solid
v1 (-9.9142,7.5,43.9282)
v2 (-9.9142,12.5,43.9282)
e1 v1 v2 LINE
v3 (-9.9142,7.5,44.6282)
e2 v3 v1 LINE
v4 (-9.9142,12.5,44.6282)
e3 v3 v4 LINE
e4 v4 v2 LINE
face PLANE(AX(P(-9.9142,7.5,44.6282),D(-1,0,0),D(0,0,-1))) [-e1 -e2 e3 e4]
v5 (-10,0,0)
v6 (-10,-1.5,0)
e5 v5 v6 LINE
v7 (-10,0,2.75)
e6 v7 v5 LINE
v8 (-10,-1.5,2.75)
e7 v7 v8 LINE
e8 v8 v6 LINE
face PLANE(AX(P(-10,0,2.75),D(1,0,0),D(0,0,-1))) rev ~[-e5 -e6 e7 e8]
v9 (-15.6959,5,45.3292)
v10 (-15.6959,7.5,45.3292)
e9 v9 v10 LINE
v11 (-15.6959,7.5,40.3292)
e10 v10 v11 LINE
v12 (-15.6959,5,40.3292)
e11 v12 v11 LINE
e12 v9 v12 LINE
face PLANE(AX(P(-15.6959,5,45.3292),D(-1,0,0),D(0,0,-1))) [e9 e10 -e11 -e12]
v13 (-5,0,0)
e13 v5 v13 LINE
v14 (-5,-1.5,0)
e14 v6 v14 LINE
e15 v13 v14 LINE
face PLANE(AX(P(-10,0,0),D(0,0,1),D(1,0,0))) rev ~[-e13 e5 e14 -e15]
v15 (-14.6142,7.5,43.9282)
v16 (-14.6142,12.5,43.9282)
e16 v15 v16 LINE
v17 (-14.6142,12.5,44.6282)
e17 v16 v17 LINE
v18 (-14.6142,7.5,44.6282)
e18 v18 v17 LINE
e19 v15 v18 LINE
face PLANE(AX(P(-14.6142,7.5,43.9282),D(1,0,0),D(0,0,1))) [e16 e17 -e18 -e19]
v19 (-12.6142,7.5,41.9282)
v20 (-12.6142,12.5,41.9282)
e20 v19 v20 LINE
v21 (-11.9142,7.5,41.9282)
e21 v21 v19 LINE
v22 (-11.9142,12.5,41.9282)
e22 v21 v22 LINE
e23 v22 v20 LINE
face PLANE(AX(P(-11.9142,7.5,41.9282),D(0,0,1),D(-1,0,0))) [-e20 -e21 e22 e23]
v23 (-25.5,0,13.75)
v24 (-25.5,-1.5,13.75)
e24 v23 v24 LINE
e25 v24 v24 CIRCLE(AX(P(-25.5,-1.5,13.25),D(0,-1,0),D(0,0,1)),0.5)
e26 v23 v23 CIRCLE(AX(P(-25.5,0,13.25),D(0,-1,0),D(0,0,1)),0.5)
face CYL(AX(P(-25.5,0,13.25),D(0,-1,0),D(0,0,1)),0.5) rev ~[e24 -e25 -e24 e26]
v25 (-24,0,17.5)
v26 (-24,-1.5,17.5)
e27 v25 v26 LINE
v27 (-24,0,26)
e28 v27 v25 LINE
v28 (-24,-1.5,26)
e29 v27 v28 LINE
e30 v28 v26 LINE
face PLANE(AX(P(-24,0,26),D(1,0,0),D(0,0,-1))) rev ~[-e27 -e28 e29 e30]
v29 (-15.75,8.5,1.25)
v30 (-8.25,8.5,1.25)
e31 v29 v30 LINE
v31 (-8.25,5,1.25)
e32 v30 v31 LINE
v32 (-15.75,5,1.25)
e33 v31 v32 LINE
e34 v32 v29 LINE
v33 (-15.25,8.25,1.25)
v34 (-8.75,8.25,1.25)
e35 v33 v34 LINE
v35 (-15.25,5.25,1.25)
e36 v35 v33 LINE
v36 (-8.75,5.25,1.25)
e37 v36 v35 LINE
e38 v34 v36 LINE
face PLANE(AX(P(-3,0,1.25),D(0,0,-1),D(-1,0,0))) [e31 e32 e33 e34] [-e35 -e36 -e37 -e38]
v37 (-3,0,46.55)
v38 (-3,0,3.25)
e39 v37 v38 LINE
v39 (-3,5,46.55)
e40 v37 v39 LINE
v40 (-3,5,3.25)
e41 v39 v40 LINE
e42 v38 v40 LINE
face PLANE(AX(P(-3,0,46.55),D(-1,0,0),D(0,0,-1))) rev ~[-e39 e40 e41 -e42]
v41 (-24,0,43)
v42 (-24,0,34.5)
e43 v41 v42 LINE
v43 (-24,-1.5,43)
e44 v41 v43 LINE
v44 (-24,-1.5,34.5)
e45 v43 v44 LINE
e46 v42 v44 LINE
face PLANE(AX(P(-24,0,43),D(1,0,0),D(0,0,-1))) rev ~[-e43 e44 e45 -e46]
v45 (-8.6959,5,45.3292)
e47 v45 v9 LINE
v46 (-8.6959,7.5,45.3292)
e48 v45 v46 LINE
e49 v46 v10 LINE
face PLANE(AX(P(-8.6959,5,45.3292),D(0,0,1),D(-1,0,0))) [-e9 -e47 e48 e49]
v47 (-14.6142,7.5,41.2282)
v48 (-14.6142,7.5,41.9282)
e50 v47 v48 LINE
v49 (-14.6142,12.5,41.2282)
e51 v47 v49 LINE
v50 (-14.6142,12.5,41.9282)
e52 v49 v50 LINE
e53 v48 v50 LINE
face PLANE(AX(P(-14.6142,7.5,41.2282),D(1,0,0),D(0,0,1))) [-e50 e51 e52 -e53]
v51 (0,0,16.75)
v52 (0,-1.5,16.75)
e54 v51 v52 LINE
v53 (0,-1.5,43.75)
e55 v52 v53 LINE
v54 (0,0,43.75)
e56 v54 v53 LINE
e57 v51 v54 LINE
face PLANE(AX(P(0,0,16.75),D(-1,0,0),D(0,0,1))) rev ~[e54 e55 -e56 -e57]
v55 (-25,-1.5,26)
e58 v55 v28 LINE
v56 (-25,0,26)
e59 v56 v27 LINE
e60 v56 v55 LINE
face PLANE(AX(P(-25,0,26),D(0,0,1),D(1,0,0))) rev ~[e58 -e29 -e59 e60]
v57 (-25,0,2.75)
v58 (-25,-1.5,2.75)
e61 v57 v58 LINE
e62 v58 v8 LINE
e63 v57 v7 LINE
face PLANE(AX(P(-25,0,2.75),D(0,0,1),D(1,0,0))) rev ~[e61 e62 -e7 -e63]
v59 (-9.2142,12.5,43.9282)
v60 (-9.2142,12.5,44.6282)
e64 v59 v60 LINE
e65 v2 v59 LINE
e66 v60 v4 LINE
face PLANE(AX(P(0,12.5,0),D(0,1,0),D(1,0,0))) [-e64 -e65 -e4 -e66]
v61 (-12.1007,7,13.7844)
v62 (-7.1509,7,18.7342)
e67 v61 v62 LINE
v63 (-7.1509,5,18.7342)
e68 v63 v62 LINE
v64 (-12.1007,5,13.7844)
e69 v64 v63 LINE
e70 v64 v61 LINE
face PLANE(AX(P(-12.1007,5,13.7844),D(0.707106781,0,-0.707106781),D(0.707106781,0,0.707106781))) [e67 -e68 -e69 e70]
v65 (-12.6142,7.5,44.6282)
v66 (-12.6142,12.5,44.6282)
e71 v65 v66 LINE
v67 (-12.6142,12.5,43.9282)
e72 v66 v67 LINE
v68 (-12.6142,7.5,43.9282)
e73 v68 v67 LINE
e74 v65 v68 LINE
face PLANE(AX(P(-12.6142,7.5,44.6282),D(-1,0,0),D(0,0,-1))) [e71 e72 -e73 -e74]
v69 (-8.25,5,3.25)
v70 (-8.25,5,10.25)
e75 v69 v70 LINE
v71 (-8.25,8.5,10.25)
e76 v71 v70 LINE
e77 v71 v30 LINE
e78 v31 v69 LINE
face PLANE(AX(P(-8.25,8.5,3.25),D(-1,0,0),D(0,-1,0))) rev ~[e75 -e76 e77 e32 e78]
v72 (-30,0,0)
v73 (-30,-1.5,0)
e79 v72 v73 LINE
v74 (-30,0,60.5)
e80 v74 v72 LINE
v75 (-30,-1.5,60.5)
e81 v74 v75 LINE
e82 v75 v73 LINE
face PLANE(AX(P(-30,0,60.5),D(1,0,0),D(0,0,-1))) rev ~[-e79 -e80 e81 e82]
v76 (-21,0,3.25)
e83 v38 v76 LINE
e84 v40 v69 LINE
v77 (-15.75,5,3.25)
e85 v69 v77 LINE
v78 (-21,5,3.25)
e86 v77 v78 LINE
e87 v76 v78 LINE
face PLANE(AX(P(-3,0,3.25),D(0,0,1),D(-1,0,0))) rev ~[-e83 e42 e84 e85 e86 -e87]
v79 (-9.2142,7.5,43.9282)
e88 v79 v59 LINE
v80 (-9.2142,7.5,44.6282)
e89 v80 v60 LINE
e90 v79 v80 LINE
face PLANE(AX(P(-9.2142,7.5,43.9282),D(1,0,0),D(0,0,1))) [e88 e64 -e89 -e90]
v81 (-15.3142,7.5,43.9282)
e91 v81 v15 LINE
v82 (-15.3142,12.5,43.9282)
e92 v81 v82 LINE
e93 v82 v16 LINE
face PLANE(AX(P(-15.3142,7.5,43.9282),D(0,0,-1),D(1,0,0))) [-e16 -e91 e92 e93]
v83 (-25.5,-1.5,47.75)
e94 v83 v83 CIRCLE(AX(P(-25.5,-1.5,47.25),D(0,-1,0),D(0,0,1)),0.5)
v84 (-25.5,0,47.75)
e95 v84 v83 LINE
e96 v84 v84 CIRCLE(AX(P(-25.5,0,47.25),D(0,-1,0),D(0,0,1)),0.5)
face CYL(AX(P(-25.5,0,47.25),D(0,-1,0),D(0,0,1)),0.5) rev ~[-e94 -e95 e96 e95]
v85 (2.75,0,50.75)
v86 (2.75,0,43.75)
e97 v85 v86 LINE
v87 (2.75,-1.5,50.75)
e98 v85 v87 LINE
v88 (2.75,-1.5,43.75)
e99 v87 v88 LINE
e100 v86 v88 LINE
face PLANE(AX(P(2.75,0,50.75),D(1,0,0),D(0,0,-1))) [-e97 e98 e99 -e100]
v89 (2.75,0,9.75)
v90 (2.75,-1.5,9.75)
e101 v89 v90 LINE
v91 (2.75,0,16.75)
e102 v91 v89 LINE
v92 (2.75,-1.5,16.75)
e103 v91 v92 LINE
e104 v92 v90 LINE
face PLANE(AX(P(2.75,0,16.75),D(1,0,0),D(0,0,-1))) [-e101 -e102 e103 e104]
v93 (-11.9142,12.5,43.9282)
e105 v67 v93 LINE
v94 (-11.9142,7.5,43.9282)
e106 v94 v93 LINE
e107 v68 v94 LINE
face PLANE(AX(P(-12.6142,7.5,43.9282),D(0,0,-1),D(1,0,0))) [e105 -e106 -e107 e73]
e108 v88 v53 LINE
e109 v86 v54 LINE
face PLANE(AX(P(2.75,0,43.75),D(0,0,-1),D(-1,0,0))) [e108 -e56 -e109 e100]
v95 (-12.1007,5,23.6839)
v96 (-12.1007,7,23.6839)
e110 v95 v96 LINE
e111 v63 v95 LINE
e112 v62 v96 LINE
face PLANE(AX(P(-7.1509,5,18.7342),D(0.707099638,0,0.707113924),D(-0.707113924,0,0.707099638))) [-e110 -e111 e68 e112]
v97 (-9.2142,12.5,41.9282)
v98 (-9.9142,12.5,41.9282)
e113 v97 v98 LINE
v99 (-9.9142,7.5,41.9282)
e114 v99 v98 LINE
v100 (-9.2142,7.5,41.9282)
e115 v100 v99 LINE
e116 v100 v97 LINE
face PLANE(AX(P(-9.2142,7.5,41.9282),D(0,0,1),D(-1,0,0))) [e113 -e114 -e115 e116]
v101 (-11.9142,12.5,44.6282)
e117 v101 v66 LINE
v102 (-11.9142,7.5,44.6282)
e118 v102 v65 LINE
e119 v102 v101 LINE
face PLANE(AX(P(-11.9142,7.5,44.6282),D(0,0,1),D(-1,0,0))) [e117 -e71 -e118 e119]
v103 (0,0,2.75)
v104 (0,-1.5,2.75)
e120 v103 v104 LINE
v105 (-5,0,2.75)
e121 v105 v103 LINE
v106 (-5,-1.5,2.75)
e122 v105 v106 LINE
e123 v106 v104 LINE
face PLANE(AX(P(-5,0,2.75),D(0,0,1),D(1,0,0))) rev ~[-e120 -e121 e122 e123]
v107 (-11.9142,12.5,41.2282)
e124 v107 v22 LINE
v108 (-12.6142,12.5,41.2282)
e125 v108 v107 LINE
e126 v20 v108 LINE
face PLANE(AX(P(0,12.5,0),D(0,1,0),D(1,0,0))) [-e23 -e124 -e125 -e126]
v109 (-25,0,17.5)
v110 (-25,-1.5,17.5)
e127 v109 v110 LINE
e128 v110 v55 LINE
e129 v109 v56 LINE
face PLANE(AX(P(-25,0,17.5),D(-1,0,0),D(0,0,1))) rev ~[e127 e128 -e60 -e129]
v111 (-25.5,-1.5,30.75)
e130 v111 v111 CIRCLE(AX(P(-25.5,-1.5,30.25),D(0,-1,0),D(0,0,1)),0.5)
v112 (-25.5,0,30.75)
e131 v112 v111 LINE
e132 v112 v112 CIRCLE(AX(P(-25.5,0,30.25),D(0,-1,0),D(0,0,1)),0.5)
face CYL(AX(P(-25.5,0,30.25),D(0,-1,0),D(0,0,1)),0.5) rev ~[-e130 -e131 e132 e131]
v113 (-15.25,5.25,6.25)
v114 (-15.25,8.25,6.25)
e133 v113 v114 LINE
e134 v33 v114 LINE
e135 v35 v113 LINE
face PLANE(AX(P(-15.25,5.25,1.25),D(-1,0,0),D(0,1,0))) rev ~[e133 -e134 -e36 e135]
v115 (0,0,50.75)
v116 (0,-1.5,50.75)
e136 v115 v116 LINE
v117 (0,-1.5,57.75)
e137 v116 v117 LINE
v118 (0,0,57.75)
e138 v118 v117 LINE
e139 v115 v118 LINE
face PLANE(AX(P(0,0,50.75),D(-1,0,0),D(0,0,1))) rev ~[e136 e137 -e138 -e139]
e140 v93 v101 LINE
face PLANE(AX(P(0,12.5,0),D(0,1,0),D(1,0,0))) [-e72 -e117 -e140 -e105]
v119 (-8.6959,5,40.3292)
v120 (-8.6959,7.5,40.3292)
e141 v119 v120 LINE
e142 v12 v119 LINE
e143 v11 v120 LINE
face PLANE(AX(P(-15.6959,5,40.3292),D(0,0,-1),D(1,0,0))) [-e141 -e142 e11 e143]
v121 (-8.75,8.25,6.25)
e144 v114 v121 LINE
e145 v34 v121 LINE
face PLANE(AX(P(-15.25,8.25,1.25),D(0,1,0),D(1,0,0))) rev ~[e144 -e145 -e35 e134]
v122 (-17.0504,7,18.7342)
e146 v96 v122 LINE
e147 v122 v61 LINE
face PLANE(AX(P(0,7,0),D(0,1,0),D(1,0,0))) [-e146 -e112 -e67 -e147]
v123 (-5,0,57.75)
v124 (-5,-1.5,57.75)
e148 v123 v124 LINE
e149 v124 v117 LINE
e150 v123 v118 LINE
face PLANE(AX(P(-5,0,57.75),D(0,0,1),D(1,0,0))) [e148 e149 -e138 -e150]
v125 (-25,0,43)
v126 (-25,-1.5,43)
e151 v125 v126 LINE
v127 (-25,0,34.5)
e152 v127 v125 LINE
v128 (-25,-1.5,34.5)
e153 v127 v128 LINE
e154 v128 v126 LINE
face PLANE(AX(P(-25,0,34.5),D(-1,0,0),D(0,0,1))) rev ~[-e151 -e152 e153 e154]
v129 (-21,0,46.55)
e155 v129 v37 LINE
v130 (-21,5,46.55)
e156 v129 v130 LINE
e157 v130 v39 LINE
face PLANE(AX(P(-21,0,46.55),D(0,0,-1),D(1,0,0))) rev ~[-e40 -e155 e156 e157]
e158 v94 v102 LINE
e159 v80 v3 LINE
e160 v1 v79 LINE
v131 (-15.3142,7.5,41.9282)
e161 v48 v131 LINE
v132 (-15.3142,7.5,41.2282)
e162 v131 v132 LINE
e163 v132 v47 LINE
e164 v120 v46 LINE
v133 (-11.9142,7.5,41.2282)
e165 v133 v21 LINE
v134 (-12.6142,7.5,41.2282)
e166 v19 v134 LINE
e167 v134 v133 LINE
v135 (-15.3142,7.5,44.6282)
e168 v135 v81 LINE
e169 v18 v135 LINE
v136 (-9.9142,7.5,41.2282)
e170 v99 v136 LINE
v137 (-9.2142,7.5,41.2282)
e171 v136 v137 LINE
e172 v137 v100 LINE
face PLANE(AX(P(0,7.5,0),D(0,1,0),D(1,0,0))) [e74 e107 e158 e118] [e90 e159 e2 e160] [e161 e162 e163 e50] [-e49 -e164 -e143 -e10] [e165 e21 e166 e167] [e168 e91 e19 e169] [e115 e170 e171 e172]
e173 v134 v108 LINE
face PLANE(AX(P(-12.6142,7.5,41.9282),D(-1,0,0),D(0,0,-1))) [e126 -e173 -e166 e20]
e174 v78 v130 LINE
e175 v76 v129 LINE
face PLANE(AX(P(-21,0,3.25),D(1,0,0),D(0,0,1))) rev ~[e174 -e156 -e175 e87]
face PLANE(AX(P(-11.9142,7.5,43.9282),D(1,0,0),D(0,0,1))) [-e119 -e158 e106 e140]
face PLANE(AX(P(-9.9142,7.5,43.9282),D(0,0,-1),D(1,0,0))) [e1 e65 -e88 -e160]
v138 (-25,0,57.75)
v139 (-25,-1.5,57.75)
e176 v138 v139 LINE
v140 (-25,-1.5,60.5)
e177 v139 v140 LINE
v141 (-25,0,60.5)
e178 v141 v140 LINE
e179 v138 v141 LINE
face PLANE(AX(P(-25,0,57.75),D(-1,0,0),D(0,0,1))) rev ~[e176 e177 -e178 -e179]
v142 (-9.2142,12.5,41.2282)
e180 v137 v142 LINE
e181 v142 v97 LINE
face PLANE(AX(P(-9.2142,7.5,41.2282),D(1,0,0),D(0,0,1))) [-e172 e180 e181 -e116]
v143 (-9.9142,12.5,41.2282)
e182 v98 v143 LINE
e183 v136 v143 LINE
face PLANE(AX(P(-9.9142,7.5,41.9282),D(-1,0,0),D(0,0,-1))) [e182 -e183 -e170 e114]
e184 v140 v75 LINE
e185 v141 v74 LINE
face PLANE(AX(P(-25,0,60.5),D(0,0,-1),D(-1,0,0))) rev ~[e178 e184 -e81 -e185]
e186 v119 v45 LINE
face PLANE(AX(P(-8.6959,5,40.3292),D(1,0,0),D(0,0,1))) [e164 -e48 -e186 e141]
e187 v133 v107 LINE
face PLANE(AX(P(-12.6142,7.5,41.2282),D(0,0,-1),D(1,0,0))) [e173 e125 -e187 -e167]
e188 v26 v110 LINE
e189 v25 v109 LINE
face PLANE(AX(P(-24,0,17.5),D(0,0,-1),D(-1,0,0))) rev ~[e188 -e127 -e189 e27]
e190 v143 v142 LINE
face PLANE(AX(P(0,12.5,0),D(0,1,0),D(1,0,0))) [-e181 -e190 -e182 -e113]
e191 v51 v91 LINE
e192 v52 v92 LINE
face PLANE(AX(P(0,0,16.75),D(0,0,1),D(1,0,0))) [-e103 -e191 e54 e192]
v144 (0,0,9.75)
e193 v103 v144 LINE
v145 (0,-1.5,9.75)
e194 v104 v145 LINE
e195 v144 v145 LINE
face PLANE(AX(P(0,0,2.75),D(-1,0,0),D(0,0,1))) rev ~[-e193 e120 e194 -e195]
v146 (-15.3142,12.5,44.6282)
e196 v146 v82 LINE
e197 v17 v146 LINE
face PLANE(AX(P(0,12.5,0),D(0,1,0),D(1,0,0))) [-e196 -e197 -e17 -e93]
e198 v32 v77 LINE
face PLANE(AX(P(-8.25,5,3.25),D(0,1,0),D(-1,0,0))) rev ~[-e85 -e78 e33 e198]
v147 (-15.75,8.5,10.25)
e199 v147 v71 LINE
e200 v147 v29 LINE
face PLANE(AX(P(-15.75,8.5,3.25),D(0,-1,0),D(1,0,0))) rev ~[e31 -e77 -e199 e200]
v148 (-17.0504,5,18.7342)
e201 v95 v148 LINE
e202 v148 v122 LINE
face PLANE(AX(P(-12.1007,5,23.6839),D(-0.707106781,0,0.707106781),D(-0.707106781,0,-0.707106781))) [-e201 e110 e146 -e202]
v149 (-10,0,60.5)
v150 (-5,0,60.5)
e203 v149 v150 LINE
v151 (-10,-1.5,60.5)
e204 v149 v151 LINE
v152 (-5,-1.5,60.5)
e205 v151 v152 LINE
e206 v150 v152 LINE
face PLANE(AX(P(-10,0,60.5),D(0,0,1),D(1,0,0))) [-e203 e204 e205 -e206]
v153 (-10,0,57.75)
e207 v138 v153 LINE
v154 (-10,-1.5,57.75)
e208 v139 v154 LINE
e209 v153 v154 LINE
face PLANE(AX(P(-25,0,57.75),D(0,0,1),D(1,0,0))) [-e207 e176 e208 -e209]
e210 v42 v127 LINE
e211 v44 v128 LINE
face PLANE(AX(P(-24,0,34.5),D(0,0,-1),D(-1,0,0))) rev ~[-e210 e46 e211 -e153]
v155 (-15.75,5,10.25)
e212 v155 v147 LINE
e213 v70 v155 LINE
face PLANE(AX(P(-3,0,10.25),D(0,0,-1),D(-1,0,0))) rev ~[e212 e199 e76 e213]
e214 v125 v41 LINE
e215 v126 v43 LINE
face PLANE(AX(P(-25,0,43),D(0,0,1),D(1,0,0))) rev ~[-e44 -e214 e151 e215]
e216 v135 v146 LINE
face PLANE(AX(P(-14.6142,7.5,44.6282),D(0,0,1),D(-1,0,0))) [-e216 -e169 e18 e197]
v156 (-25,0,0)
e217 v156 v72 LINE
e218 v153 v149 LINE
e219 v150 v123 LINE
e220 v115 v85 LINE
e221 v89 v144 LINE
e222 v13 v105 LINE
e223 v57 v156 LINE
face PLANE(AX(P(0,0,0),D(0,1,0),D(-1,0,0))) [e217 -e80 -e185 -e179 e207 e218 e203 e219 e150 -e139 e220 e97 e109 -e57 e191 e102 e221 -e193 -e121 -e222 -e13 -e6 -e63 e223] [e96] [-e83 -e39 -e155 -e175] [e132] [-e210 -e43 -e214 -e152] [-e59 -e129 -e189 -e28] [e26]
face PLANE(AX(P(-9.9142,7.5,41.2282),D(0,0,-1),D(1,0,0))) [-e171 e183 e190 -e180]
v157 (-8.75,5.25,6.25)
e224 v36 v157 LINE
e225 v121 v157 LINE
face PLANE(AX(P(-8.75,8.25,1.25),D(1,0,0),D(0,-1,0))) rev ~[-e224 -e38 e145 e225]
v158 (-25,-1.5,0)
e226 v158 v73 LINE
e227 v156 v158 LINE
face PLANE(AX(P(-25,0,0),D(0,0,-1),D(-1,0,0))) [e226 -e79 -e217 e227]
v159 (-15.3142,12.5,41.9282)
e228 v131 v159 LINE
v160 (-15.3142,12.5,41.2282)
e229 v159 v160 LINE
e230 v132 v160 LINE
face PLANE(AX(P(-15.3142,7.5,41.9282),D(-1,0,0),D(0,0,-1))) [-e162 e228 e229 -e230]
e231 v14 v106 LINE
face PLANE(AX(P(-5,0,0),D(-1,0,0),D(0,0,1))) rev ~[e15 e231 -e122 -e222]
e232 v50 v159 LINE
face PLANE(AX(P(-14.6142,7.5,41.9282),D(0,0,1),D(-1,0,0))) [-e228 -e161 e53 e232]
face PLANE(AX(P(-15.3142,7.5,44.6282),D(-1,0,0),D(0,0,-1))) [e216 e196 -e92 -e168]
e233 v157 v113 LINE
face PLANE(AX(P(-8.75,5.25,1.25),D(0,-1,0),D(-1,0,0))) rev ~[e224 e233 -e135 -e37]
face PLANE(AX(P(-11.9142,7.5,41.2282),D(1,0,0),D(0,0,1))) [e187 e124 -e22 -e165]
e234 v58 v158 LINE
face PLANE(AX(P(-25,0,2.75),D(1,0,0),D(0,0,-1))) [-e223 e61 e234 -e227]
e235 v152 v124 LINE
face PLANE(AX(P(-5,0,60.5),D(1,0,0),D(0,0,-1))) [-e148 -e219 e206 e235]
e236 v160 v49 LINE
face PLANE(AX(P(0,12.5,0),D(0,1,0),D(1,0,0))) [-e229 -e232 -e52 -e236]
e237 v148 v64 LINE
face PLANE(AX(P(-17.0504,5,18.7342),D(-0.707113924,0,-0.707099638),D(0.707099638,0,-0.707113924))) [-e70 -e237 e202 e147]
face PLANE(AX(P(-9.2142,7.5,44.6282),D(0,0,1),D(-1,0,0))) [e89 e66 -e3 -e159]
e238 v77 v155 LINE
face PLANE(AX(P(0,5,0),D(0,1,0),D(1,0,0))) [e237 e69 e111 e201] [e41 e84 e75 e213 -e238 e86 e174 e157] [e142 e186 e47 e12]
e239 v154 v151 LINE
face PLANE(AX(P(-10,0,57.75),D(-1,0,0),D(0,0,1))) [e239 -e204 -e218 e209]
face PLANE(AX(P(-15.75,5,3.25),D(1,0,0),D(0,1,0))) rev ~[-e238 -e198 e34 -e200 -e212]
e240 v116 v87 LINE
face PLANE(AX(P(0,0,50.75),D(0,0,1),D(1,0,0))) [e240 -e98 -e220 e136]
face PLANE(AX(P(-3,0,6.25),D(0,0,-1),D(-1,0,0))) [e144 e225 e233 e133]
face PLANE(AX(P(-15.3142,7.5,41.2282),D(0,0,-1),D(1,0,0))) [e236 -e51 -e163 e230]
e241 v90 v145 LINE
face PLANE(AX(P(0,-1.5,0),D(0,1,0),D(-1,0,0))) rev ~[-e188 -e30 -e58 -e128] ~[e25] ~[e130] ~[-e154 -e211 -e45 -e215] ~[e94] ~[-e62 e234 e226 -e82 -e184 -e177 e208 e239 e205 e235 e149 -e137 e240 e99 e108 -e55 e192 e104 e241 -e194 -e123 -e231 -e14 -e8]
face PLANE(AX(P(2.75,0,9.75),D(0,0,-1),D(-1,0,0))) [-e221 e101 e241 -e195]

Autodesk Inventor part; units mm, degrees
ref_plane "YZ Plane" through (0, 0, 0) normal (1, 0, 0) x (0, 1, 0)
ref_plane "XZ Plane" through (0, 0, 0) normal (0, 1, 0) x (-1, 0, 0)
ref_plane "XY Plane" through (0, 0, 0) normal (0, 0, 1) x (1, 0, 0)
sketch "Sketch1" plane through (0, 0, 0) normal (0, 1, 0) x (-1, 0, 0)
  line L0 (15, 17.8107) -> (15, 41.4147) construction
  line L1 (30, 60.5) -> (30, 0)
  line L2 (25, 17.5) -> (25, 26)
  line L3 (25, 26) -> (24, 26)
  line L4 (24, 26) -> (24, 17.5)
  line L5 (24, 17.5) -> (25, 17.5)
  line L6 (24, 34.5) -> (25, 34.5)
  line L7 (25, 34.5) -> (25, 43)
  line L8 (25, 43) -> (24, 43)
  line L9 (24, 43) -> (24, 34.5)
  line L10 (25, 57.75) -> (25, 60.5)
  line L11 (25, 60.5) -> (30, 60.5)
  line L12 (10, 57.75) -> (10, 60.5)
  line L13 (25, 57.75) -> (10, 57.75)
  line L14 (25, 2.75) -> (25, 0)
  line L15 (25, 0) -> (30, 0)
  line L16 (10, 2.75) -> (10, 0)
  line L17 (25, 2.75) -> (10, 2.75)
  line L18 (0, 50.75) -> (-2.75, 50.75)
  line L19 (-2.75, 50.75) -> (-2.75, 43.75)
  line L20 (-2.75, 43.75) -> (0, 43.75)
  line L21 (0, 16.75) -> (-2.75, 16.75)
  line L22 (-2.75, 16.75) -> (-2.75, 9.75)
  line L23 (-2.75, 9.75) -> (0, 9.75)
  line L24 (17.3275, 30.25) -> (11.5049, 30.25) construction
  line L25 (0, 50.75) -> (0, 57.75)
  line L26 (0, 2.75) -> (0, 9.75)
  line L27 (0, 16.75) -> (0, 43.75)
  line L28 (10, 0) -> (5, 0)
  line L29 (5, 0) -> (5, 2.75)
  line L30 (5, 2.75) -> (0, 2.75)
  line L31 (10, 60.5) -> (5, 60.5)
  line L32 (5, 60.5) -> (5, 57.75)
  line L33 (5, 57.75) -> (0, 57.75)
  point P0 (0, 0)
  point P1 (0, 0)
  point P2 (0, 0)
  point P3 (0, 0)
  point P4 (0, 0)
  point P5 (25.5, 47.25)
  point P6 (25.5, 30.25)
  point P7 (25.5, 13.25)
  dimension "d151" = 8.5
  dimension "d153" = 1
  dimension "d155" = 5
  dimension "d159" = 17
  dimension "d160" = 17
  dimension "d161" = 4.25
  dimension "d162" = 4.25
  dimension "d176" = 4.5
  dimension "d177" = 5
  dimension "d179" = 55
  dimension "d180" = 2.75
  dimension "d182" = 7
  dimension "d183" = 7
  dimension "d184" = 30
extrude "Extrusion1" add sketch "Sketch1" against normal blind 1.5
hole "Hole1" at (-25.5, 0, 47.25) at (-25.5, 0, 30.25) at (-25.5, 0, 13.25) direction (0, -1, 0) diameter 1 end through all
sketch "Sketch4" plane through (0, 0, 0) normal (0, 1, 0) x (1, 0, 0)
  line L0 (-3, -46.55) -> (-3, -3.25)
  line L1 (-3, -3.25) -> (-21, -3.25)
  line L2 (-21, -3.25) -> (-21, -46.55)
  line L3 (-21, -46.55) -> (-3, -46.55)
  line L4 (-25, -2.75) -> (-10, -2.75) projected
  line L5 (-10, -2.75) -> (-25, -2.75) projected
  line L6 (0, -43.75) -> (0, -16.75) projected
  point P0 (0, 0)
  dimension "d188" = 43.3
  dimension "d189" = 18
  dimension "d190" = 3
  dimension "d212" = 0.5
extrude "Extrusion11" add sketch "Sketch4" along normal blind 5
sketch "Sketch6" plane through (0, 5, 0) normal (0, 1, 0) x (1, 0, 0)
  line L0 (-17.0504, -18.7342) -> (-12.1007, -13.7844)
  line L1 (-12.1007, -13.7844) -> (-7.1509, -18.7342)
  line L2 (-7.1509, -18.7342) -> (-12.1007, -23.6839)
  line L3 (-12.1007, -23.6839) -> (-17.0504, -18.7342)
  point P0 (0, 0)
  dimension "d198" = 7
  dimension "d199" = 7
extrude "Extrusion13" add sketch "Sketch6" along normal blind 2
sketch "Sketch7" plane through (0, 5, 0) normal (0, 1, 0) x (1, 0, 0)
  line L0 (-15.6959, -40.3292) -> (-8.6959, -40.3292)
  line L1 (-8.6959, -40.3292) -> (-8.6959, -45.3292)
  line L2 (-8.6959, -45.3292) -> (-15.6959, -45.3292)
  line L3 (-15.6959, -45.3292) -> (-15.6959, -40.3292)
  point P0 (0, 0)
  dimension "d202" = 7
  dimension "d203" = 5
extrude "Extrusion14" add sketch "Sketch7" along normal blind 2.5
sketch "Sketch8" plane through (0, 7.5, 0) normal (0, 1, 0) x (1, 0, 0)
  line L0 (-15.3142, -41.2282) -> (-14.6142, -41.2282)
  line L1 (-14.6142, -41.2282) -> (-14.6142, -41.9282)
  line L2 (-14.6142, -41.9282) -> (-15.3142, -41.9282)
  line L3 (-15.3142, -41.9282) -> (-15.3142, -41.2282)
  line L4 (-15.3142, -43.9282) -> (-14.6142, -43.9282)
  line L5 (-14.6142, -43.9282) -> (-14.6142, -44.6282)
  line L6 (-14.6142, -44.6282) -> (-15.3142, -44.6282)
  line L7 (-15.3142, -44.6282) -> (-15.3142, -43.9282)
  line L8 (-12.6142, -41.2282) -> (-11.9142, -41.2282)
  line L9 (-11.9142, -41.2282) -> (-11.9142, -41.9282)
  line L10 (-11.9142, -41.9282) -> (-12.6142, -41.9282)
  line L11 (-12.6142, -41.9282) -> (-12.6142, -41.2282)
  line L12 (-12.6142, -43.9282) -> (-11.9142, -43.9282)
  line L13 (-11.9142, -43.9282) -> (-11.9142, -44.6282)
  line L14 (-11.9142, -44.6282) -> (-12.6142, -44.6282)
  line L15 (-12.6142, -44.6282) -> (-12.6142, -43.9282)
  line L16 (-9.9142, -41.2282) -> (-9.2142, -41.2282)
  line L17 (-9.2142, -41.2282) -> (-9.2142, -41.9282)
  line L18 (-9.2142, -41.9282) -> (-9.9142, -41.9282)
  line L19 (-9.9142, -41.9282) -> (-9.9142, -41.2282)
  line L20 (-9.9142, -43.9282) -> (-9.2142, -43.9282)
  line L21 (-9.2142, -43.9282) -> (-9.2142, -44.6282)
  line L22 (-9.2142, -44.6282) -> (-9.9142, -44.6282)
  line L23 (-9.9142, -44.6282) -> (-9.9142, -43.9282)
  point P0 (0, 0)
  dimension "d206" = 0.7
  dimension "d207" = 2
  dimension "d208" = 2
  dimension "d209" = 2
extrude "Extrusion15" add sketch "Sketch8" along normal blind 5
sketch "Sketch9" plane through (-3, 0, 3.25) normal (0, 0, -1) x (-1, 0, 0)
  line L0 (12.75, 8.5) -> (5.25, 8.5)
  line L1 (5.25, 8.5) -> (5.25, 5)
  line L2 (5.25, 5) -> (12.75, 5)
  line L3 (12.75, 5) -> (12.75, 8.5)
  line L4 (9, 5.7242) -> (9, 7.4058) construction
  line L5 (18, 0) -> (18, 5) projected
  line L6 (0, 5) -> (18, 5) projected
  point P0 (-3, 0)
  dimension "d213" = 7.5
  dimension "d214" = 3.5
  dimension "d215" = 9
extrude "Extrusion16" add sketch "Sketch9" along normal blind 2 and the other way blind 7
sketch "Sketch15" plane through (-3, 0, 1.25) normal (0, 0, -1) x (-1, 0, 0)
  line L0 (12.25, 8.25) -> (5.75, 8.25)
  line L1 (5.75, 8.25) -> (5.75, 5.25)
  line L2 (5.75, 5.25) -> (12.25, 5.25)
  line L3 (12.25, 5.25) -> (12.25, 8.25)
  line L4 (5.25, 8.5) -> (5.25, 5) projected
  line L5 (12.75, 8.5) -> (5.25, 8.5) projected
  point P0 (-3, 0)
  dimension "d242" = 6.5
  dimension "d243" = 3
  dimension "d244" = 0.5
  dimension "d245" = 0.25
extrude "Extrusion20" cut sketch "Sketch15" against normal blind 5
properties part number "Motherboard_dummy" material "ABS Plastic"
